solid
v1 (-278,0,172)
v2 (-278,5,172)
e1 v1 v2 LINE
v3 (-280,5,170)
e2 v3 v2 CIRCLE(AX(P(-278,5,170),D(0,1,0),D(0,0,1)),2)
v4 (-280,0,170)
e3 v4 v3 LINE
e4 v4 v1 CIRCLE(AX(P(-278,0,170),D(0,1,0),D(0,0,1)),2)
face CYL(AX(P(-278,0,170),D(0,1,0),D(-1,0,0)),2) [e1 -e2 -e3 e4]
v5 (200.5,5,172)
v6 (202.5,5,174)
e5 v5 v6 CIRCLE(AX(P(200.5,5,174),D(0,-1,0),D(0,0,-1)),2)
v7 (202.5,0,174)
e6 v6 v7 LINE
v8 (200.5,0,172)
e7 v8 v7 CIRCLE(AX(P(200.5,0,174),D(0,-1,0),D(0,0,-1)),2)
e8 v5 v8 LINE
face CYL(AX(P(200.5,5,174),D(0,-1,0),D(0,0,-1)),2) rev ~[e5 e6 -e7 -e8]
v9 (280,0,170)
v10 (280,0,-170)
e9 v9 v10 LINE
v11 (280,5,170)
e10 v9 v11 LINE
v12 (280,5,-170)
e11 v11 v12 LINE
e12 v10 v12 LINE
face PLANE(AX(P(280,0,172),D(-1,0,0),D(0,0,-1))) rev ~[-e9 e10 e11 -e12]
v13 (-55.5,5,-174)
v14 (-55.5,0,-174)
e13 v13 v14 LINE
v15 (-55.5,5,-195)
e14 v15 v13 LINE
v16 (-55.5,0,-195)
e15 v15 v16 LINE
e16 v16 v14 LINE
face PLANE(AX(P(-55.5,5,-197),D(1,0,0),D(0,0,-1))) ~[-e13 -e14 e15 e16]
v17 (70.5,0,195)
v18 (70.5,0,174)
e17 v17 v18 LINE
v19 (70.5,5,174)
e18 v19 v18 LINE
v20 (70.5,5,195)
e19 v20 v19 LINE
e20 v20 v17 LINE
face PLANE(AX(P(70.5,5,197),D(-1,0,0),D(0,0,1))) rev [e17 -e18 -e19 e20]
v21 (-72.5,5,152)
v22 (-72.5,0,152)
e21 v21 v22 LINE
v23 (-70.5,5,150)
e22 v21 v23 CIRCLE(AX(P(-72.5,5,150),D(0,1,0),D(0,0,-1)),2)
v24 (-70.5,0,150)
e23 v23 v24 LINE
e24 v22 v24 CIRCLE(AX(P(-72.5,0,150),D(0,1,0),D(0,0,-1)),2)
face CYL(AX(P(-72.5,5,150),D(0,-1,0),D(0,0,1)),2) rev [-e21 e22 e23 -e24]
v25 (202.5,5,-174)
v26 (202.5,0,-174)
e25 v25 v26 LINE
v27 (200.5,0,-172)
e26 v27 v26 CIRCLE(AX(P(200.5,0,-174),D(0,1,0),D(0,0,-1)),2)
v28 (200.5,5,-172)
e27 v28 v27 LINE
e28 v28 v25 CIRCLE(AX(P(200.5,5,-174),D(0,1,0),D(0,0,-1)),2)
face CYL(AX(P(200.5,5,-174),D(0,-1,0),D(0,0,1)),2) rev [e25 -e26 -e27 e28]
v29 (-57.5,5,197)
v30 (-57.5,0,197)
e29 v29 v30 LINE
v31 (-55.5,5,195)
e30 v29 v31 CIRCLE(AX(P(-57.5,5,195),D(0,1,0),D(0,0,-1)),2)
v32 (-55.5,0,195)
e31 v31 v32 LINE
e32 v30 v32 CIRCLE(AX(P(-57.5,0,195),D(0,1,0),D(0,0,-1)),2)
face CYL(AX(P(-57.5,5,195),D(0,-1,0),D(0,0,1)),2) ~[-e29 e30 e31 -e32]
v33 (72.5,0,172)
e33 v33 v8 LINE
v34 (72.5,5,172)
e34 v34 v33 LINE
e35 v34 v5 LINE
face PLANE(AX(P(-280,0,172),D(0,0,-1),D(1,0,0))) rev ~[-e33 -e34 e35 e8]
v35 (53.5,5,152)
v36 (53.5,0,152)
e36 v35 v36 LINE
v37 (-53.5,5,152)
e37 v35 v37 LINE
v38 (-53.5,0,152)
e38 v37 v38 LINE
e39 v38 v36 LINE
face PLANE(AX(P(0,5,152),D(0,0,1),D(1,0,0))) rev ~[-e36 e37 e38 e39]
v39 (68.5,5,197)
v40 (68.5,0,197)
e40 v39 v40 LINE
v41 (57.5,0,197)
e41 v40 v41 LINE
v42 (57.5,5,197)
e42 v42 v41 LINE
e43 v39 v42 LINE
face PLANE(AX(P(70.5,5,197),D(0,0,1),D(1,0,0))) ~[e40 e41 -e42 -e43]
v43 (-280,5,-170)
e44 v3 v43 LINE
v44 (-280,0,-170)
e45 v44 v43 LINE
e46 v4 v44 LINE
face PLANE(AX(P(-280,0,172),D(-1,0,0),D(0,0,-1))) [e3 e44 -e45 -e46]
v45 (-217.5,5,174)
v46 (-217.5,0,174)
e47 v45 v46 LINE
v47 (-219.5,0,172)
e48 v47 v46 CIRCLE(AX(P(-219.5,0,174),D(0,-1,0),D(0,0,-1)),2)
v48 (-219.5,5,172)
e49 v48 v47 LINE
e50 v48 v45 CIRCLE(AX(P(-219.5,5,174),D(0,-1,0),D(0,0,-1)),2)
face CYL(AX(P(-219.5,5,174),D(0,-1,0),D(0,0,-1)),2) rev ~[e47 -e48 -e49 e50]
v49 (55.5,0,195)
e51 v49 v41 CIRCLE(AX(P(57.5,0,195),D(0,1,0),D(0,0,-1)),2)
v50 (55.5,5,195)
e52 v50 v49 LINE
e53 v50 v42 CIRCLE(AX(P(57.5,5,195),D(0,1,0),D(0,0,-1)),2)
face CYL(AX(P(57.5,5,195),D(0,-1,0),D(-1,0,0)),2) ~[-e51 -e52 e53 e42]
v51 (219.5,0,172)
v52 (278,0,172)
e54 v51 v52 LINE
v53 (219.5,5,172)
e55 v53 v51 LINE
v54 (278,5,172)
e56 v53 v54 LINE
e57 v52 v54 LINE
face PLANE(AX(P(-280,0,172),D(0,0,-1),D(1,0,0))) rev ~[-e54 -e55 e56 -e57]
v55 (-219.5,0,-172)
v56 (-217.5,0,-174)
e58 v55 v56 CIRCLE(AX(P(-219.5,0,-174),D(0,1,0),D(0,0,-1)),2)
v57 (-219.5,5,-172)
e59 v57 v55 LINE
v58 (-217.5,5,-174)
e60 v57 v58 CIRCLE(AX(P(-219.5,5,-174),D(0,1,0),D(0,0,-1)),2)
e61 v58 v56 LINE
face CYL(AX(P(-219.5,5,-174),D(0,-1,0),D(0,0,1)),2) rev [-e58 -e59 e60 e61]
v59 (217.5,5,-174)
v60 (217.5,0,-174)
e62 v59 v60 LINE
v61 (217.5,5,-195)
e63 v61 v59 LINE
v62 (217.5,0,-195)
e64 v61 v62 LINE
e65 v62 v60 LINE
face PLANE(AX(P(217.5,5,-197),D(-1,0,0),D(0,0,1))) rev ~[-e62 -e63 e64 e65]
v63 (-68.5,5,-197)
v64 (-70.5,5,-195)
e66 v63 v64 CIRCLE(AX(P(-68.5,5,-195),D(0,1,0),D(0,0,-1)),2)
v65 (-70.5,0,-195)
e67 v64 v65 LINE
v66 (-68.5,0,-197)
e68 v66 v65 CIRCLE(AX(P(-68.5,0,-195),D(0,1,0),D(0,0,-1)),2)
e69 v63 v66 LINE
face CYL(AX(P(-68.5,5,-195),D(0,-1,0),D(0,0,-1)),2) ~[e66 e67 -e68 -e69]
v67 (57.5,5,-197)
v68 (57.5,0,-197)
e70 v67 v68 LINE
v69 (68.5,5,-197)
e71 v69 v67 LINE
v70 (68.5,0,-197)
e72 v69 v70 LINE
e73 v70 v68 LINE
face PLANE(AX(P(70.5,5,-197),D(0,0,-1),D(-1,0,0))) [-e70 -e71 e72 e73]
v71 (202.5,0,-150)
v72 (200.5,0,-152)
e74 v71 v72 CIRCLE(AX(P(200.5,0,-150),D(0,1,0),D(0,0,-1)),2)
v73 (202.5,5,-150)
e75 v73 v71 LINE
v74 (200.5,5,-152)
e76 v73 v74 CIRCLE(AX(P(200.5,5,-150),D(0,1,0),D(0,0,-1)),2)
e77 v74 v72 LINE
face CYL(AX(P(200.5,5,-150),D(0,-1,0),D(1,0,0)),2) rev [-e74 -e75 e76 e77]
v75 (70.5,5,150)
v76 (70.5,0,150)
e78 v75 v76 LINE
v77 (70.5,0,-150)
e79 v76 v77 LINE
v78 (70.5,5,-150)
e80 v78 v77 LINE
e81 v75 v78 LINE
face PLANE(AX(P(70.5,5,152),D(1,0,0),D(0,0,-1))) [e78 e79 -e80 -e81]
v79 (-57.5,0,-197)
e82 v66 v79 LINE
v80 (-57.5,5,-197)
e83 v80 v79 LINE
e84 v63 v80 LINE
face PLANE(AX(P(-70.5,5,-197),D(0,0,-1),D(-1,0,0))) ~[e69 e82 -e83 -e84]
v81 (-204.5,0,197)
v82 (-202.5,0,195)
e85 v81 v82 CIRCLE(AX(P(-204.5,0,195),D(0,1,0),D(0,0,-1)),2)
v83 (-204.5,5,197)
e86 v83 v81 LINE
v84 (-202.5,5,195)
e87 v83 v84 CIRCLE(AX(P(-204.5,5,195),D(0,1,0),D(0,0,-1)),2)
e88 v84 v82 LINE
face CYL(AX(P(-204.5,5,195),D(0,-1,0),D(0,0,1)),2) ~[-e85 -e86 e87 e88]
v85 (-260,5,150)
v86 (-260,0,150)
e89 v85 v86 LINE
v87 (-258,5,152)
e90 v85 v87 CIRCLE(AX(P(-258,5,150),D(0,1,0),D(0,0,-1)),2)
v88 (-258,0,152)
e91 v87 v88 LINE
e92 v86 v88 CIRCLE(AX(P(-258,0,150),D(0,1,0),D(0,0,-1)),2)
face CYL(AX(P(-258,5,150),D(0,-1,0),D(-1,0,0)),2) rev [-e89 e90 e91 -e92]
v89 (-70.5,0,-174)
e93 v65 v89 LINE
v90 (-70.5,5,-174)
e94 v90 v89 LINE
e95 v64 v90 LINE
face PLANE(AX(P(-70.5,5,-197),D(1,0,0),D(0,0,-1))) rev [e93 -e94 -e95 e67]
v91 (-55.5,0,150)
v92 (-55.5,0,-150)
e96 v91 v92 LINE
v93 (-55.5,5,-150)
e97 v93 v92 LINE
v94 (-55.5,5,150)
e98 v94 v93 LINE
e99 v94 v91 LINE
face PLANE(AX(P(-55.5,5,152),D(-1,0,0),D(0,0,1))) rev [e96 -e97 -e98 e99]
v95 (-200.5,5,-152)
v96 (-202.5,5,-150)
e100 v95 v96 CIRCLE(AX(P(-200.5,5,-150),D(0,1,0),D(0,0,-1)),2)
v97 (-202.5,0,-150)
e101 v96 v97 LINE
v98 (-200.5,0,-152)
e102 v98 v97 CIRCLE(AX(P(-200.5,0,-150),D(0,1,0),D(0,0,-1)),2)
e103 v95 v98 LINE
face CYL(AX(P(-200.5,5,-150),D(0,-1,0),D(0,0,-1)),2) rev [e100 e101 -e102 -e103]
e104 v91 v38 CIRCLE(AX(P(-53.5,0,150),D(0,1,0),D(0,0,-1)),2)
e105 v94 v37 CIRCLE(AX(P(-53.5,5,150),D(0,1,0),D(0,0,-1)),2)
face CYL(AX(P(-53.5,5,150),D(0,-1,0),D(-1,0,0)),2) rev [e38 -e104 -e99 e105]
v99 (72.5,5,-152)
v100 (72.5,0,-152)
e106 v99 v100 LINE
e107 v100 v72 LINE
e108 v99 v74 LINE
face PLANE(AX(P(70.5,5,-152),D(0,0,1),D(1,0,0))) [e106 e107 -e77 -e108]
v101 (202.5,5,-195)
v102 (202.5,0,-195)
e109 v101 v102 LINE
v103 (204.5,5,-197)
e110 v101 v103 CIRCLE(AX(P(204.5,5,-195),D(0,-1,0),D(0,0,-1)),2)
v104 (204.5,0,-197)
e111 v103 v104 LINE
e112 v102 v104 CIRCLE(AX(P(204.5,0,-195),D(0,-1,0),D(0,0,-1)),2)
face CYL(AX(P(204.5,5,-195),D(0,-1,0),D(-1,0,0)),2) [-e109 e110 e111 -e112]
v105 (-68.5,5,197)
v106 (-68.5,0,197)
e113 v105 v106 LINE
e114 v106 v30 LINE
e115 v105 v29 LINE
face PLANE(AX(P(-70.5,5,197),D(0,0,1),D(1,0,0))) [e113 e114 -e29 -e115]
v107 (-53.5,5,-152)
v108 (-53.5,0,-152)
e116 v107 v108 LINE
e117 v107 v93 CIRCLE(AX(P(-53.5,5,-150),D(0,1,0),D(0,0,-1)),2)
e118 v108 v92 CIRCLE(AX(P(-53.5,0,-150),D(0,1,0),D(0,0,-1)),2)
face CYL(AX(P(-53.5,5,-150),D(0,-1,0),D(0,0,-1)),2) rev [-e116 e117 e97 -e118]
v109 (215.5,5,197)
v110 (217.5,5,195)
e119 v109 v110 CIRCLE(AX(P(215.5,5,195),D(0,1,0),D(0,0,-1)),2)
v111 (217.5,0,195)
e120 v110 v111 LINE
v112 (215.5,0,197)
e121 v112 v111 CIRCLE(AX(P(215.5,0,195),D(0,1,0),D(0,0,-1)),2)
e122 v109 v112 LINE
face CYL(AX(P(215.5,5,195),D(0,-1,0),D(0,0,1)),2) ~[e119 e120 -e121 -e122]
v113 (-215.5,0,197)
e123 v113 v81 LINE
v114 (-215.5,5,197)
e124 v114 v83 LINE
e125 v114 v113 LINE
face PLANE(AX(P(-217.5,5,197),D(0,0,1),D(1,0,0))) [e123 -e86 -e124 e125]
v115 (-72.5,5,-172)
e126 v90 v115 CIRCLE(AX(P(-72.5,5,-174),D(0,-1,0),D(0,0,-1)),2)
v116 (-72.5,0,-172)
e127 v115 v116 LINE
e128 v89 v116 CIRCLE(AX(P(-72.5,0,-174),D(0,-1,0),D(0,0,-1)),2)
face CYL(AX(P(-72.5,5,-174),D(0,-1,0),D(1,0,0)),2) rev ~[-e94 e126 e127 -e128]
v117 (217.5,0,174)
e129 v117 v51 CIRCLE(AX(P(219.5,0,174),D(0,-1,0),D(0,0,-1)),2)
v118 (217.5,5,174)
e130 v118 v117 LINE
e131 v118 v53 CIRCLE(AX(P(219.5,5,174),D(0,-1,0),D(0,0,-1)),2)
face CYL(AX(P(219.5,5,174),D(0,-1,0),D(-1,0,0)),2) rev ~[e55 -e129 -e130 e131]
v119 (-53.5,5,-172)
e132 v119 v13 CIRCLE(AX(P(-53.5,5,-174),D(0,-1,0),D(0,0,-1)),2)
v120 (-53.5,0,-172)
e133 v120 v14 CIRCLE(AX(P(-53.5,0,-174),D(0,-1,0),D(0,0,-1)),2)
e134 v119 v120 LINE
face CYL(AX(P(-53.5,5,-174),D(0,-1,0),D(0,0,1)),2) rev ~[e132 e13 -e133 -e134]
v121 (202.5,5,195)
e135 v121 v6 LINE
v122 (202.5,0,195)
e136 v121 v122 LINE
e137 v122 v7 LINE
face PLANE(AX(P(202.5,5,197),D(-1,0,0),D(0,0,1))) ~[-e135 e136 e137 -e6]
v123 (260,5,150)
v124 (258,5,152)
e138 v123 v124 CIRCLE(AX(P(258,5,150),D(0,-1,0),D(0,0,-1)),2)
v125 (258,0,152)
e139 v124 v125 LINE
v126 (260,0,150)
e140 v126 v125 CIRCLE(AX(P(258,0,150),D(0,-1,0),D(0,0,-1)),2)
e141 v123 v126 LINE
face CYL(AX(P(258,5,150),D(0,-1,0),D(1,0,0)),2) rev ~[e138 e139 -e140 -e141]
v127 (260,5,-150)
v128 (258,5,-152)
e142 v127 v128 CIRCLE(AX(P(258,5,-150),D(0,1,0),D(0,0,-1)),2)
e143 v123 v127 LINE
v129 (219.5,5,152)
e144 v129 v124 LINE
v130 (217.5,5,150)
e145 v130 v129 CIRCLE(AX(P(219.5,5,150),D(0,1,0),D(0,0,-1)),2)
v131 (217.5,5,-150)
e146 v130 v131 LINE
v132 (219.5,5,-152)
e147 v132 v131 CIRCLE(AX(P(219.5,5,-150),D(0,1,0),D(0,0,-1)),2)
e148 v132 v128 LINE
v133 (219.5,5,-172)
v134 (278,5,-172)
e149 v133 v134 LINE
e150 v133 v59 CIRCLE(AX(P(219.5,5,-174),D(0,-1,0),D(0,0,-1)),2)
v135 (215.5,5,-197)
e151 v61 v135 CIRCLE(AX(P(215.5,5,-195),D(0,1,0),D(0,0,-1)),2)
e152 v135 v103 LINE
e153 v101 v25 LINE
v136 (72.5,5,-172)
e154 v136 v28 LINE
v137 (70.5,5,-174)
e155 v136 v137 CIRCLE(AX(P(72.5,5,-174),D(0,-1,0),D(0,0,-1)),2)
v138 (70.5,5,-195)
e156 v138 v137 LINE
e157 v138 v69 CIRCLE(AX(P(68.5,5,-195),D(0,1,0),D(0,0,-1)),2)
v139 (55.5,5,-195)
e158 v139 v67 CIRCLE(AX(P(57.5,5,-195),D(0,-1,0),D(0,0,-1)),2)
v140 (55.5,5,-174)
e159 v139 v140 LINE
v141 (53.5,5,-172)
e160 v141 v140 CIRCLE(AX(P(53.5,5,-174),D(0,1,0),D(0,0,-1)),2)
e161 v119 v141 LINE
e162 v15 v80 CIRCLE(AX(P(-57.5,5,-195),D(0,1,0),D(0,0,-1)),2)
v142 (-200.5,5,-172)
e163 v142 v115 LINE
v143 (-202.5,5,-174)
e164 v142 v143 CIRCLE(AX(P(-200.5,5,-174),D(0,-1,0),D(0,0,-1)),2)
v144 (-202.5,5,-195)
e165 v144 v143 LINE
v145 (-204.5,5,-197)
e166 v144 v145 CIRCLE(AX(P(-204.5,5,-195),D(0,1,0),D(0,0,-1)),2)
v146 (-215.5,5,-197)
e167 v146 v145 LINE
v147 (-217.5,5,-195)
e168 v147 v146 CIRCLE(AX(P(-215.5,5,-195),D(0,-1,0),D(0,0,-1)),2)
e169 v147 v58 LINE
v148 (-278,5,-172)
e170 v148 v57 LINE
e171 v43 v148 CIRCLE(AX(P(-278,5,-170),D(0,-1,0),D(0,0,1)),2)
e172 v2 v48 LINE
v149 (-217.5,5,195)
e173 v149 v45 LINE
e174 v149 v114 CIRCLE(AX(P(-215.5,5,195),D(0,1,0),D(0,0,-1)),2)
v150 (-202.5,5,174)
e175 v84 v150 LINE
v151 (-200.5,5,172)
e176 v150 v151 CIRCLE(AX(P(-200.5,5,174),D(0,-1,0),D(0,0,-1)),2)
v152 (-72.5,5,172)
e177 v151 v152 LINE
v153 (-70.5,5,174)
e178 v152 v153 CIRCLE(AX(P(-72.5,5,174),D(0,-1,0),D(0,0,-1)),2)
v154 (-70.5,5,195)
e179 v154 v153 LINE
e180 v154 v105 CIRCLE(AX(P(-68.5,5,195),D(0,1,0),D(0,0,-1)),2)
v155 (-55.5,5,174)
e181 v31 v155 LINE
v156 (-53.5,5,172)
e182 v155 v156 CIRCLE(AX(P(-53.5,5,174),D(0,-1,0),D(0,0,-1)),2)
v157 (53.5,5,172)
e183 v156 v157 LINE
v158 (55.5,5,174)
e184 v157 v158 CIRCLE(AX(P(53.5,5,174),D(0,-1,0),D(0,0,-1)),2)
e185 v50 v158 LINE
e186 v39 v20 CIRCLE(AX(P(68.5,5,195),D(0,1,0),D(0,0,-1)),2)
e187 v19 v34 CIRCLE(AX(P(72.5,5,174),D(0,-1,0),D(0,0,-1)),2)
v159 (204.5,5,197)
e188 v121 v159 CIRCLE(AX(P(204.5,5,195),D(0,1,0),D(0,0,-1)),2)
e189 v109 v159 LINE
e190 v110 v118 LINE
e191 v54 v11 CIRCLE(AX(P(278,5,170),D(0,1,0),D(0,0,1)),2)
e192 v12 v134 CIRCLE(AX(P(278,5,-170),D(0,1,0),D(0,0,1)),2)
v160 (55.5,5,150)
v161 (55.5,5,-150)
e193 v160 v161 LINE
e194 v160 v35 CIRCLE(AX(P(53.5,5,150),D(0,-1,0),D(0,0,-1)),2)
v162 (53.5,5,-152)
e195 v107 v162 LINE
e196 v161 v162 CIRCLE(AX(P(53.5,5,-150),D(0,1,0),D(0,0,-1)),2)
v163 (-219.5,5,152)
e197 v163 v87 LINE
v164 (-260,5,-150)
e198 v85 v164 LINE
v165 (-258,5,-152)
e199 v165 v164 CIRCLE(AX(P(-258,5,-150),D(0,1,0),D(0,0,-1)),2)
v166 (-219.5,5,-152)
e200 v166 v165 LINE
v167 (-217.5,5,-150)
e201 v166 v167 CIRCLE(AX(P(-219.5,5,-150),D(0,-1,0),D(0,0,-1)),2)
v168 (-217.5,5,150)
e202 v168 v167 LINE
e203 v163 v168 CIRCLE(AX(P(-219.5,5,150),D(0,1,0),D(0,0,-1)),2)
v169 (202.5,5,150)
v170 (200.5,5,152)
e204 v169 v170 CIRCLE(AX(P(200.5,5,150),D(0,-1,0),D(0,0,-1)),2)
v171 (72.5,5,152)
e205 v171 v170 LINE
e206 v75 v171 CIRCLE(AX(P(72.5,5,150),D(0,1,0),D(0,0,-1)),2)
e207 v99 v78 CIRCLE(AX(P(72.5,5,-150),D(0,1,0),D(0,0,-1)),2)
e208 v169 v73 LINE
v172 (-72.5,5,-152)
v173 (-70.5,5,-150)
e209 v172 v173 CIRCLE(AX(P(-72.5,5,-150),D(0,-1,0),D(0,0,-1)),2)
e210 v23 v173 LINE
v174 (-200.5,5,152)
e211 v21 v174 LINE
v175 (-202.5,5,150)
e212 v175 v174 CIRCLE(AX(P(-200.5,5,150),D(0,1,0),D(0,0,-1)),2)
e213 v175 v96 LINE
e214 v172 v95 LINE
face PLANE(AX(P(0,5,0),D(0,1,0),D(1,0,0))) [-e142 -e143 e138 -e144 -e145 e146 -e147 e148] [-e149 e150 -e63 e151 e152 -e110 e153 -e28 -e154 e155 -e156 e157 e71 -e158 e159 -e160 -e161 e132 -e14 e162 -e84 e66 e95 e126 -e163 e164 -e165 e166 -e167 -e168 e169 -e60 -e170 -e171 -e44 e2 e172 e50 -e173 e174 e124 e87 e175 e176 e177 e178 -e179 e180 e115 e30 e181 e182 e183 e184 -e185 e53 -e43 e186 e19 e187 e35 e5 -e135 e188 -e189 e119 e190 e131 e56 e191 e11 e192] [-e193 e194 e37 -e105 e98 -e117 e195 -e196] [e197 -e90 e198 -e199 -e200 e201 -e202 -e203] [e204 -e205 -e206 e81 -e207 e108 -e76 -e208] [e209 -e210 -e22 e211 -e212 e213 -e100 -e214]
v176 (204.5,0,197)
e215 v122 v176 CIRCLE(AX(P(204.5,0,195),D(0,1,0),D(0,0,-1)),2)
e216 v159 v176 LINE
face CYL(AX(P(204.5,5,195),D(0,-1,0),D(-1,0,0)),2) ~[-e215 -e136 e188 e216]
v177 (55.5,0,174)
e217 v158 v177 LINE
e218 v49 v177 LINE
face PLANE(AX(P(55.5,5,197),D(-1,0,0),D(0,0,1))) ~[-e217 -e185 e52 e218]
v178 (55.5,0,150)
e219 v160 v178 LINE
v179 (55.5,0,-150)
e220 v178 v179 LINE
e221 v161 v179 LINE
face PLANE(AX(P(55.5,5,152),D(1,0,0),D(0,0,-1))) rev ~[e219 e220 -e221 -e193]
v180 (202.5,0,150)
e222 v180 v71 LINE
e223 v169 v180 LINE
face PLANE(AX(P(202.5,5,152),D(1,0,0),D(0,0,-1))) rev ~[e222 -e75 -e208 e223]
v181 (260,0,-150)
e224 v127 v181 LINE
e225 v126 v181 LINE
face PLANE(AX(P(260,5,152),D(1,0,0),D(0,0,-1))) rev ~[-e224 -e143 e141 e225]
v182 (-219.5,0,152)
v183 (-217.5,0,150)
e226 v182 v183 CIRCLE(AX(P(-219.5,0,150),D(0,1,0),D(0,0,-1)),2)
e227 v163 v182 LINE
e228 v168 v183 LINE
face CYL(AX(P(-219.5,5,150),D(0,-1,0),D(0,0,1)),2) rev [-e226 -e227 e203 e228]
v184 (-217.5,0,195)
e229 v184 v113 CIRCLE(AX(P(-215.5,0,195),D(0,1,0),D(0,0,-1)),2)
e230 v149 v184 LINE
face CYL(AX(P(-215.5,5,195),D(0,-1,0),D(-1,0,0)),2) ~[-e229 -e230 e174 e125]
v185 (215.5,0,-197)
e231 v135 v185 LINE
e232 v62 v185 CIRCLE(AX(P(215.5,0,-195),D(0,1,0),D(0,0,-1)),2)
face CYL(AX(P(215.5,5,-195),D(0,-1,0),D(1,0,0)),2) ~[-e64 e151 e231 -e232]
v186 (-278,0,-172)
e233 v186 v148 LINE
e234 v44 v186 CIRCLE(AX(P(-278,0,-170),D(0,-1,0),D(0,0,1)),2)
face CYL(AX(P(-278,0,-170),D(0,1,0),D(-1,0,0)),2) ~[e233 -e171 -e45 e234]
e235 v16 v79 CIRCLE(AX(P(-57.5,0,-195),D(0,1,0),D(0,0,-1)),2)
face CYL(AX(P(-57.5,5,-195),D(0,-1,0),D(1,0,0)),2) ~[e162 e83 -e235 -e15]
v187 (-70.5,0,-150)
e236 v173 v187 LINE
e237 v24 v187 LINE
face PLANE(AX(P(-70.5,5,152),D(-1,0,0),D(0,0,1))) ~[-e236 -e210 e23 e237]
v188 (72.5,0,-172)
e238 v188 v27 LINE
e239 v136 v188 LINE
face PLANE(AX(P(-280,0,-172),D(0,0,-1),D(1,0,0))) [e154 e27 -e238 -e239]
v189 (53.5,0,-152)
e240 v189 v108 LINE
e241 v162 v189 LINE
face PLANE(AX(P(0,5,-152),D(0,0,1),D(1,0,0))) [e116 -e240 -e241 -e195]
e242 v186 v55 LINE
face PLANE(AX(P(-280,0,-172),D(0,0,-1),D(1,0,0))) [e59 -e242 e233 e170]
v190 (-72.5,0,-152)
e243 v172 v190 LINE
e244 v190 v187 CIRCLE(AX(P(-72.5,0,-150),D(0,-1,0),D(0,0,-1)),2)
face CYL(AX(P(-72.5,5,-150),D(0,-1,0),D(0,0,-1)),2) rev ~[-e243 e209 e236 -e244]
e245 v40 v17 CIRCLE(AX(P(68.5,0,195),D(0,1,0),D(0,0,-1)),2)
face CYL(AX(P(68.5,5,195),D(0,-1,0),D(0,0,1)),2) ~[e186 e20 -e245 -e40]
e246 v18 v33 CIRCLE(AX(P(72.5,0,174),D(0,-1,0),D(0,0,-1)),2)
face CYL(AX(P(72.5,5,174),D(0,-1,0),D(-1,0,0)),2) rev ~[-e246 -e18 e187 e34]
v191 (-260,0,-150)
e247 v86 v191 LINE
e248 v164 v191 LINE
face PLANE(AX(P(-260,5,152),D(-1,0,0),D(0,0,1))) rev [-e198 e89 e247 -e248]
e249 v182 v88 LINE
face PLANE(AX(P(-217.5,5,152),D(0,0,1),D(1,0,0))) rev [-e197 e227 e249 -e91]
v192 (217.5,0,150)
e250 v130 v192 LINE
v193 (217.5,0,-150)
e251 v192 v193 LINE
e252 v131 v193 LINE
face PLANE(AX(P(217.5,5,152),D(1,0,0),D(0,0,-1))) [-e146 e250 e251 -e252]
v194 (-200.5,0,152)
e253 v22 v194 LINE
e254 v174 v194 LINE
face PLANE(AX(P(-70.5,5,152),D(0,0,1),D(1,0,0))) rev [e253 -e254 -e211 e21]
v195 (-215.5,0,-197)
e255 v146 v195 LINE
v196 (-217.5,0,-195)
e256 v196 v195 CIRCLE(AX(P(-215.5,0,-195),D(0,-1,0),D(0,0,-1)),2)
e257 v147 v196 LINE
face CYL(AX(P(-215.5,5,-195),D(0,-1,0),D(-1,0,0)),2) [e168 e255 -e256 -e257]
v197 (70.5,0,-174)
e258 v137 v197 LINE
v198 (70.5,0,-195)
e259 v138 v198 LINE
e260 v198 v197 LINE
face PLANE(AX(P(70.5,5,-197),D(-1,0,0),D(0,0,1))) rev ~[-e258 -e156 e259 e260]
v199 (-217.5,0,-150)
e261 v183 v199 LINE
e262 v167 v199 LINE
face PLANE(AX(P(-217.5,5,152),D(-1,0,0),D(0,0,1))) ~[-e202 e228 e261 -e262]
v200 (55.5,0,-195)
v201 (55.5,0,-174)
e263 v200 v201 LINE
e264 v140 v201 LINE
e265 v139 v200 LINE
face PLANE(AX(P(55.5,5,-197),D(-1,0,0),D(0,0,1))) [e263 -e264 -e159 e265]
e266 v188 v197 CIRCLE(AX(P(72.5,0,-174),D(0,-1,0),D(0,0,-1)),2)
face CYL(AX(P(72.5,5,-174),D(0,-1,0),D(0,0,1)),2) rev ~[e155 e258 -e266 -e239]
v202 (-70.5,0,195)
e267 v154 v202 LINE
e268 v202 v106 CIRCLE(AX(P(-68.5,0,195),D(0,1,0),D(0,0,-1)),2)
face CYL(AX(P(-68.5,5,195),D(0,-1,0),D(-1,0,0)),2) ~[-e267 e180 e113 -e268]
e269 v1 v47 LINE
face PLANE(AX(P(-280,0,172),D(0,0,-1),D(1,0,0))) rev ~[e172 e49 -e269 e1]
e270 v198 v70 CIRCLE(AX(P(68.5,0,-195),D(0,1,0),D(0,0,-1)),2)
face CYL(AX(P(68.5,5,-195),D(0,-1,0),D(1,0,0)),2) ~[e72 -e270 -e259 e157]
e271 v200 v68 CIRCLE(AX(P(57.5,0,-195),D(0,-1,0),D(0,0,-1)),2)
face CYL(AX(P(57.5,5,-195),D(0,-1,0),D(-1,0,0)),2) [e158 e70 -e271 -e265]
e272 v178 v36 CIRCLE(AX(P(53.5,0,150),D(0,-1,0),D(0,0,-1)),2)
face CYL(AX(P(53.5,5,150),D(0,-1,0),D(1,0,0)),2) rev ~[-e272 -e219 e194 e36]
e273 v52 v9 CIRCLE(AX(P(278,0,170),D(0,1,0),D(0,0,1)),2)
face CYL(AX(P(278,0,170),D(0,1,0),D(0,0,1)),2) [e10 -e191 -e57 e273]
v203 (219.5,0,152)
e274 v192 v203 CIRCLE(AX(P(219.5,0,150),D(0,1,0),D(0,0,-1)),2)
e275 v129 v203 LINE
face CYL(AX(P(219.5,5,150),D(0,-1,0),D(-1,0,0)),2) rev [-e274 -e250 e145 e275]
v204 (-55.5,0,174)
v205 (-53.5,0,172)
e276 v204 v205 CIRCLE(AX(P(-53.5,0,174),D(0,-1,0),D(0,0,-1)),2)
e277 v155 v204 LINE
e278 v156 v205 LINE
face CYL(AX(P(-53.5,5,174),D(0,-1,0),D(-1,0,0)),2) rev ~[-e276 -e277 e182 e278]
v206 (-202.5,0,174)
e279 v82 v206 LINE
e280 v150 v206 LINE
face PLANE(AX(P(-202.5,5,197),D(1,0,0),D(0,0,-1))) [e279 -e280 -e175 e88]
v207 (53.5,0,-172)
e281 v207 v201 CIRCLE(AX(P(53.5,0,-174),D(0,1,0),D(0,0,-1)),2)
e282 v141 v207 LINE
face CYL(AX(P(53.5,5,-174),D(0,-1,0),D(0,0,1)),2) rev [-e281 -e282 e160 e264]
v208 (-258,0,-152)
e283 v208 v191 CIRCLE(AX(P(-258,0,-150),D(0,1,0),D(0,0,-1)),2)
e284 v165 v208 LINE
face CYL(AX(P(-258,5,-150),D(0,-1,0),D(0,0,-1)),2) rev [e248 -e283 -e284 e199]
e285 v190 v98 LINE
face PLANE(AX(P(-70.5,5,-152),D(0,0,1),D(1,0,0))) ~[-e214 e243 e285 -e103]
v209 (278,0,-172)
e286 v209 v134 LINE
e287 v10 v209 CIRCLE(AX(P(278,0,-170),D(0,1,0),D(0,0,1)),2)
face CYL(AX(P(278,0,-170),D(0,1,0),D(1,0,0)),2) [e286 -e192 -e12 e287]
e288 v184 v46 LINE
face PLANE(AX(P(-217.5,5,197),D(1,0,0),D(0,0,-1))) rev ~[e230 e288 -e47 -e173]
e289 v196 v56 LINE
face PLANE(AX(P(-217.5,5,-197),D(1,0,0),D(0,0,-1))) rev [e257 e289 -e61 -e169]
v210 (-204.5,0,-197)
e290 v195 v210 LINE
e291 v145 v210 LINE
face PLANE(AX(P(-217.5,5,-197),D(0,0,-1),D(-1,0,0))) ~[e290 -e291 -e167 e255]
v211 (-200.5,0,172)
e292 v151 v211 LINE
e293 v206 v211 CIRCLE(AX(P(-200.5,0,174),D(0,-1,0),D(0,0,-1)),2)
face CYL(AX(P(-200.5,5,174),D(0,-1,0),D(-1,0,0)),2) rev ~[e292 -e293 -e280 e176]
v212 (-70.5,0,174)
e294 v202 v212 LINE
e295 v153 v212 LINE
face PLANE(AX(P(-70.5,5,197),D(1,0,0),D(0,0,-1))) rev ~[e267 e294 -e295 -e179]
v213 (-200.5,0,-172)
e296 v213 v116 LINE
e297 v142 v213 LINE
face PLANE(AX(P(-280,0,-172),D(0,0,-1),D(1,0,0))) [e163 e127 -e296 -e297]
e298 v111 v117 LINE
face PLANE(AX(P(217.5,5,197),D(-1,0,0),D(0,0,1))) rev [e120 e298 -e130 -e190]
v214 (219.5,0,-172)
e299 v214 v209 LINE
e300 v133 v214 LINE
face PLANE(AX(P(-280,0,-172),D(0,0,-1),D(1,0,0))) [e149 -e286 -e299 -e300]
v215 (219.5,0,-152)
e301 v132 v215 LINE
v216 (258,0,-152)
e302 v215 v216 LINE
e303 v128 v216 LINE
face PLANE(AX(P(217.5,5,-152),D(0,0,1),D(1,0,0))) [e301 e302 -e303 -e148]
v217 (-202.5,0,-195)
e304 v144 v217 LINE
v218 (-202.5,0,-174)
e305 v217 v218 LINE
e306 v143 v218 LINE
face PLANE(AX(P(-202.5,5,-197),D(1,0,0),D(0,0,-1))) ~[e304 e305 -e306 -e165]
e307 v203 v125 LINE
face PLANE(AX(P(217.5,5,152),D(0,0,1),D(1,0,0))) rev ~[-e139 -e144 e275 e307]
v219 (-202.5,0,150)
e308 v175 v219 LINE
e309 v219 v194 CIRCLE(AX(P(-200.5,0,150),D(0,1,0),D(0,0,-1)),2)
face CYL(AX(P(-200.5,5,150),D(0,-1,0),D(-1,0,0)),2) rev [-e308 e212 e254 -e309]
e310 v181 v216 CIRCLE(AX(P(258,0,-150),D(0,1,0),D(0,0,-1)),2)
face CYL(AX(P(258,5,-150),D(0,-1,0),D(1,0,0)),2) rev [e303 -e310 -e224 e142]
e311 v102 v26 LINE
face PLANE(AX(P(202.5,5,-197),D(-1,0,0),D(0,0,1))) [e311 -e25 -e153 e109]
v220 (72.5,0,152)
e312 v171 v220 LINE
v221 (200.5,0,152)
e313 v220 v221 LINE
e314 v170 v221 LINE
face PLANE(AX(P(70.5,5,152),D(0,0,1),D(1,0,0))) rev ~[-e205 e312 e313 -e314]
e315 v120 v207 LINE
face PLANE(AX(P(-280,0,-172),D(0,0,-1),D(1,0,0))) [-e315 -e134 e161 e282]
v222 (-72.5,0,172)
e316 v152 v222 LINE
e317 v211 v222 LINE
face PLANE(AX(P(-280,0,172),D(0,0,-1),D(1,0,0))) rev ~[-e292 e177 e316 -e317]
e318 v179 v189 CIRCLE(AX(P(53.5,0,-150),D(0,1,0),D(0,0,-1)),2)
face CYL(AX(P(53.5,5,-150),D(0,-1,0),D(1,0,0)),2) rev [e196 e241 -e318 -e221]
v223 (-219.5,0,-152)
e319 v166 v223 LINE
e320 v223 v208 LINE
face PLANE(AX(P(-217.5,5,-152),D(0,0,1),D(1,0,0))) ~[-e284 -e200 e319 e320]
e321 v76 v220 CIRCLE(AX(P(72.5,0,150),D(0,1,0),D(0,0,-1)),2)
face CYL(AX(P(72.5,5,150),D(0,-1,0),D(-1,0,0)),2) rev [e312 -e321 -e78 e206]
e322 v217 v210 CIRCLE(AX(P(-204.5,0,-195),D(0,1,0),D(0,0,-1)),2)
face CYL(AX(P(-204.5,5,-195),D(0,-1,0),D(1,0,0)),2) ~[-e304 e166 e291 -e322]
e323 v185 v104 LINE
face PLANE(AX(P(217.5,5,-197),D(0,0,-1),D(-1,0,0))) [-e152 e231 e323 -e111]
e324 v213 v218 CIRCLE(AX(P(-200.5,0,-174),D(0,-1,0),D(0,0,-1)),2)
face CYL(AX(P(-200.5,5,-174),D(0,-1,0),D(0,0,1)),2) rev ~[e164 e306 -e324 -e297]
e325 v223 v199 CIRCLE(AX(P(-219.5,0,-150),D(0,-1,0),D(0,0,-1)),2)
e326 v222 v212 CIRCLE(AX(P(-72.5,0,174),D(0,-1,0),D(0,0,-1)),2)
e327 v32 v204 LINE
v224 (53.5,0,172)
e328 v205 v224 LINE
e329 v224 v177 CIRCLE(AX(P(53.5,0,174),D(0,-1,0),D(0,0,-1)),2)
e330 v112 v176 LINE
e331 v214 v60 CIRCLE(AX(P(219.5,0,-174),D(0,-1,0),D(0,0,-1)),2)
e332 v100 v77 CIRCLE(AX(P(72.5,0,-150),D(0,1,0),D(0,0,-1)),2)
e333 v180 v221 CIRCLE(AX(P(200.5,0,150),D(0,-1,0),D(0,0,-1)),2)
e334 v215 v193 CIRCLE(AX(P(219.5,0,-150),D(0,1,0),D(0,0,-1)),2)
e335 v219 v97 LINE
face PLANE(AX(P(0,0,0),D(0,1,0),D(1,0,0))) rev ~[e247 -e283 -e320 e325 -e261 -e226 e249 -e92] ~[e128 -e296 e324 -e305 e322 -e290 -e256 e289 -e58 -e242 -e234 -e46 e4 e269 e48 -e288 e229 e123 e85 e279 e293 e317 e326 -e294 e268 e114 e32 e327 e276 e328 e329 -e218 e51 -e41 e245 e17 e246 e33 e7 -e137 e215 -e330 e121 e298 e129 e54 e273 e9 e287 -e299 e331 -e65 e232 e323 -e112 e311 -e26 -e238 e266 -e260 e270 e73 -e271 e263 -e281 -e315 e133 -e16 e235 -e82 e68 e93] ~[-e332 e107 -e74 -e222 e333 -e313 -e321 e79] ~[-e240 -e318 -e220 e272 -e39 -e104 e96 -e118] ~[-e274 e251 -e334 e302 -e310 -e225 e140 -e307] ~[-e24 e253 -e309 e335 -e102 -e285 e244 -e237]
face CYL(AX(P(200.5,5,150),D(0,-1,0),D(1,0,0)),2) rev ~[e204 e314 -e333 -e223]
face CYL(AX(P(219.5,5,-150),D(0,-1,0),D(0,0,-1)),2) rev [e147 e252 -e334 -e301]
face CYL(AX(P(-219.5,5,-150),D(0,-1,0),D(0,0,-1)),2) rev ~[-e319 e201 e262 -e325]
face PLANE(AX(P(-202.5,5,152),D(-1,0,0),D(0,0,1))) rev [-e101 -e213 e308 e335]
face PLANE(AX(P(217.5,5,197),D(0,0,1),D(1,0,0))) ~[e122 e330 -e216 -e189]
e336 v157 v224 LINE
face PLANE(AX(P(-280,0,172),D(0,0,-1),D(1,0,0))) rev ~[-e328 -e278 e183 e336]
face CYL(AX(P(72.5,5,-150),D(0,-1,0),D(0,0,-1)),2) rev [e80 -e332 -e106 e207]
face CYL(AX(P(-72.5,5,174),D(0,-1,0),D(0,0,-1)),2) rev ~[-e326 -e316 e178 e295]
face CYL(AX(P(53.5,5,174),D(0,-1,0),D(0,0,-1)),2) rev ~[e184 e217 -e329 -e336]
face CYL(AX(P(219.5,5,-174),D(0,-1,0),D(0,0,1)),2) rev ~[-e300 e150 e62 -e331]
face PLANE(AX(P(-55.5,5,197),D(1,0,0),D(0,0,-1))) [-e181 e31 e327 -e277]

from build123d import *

# Parameters (mm, degrees)
SKETCH1_W               = 560
SKETCH1_H               = 344
BOSS_EXTRUDE1_DEPTH     = 5
SKETCH2_W               = 15
SKETCH2_H               = 25
BOSS_EXTRUDE2_DEPTH     = 5
MIRROR5_COPY_1_SKETCH_W = 15
MIRROR5_COPY_1_SKETCH_H = 25
MIRROR5_COPY_1_DEPTH    = 5
FILLET3_R               = 2
SKETCH3_W               = 42.5
SKETCH3_H               = 304
SKETCH3_W_2             = 132
SKETCH3_W_3             = 55.5
CUT_EXTRUDE1_DEPTH      = 343.394509302
FILLET4_R               = 2


with BuildPart() as part:
    # Sketch1 → Boss-Extrude1 (new body)
    with BuildSketch(Plane(origin=(0, 0, 0), x_dir=(1, 0, 0), z_dir=(0, 1, 0))):
        Rectangle(SKETCH1_W, SKETCH1_H)
    extrude(amount=BOSS_EXTRUDE1_DEPTH)

    # Sketch2 → Boss-Extrude2 (add)
    with BuildSketch(Plane(origin=(0, 5, 0), x_dir=(1, 0, 0), z_dir=(0, 1, 0))):
        with Locations((-63, -184.5)):
            Rectangle(SKETCH2_W, SKETCH2_H)
        with Locations((-210, -184.5)):
            Rectangle(SKETCH2_W, SKETCH2_H)
    boss_extrude2 = extrude(amount=-BOSS_EXTRUDE2_DEPTH)

    # Mirror4: Boss-Extrude2 across plane
    add(boss_extrude2.mirror(Plane(origin=(0, 0, 0), x_dir=(0, 0, 1), z_dir=(1, 0, 0))))

    # Mirror5: Boss-Extrude2 across plane
    add(boss_extrude2.mirror(Plane.XY))

    # Mirror5 copy 1 sketch → Mirror5 copy 1 (add)
    with BuildSketch(Plane(origin=(0, 5, 0), x_dir=(-1, 0, 0), z_dir=(0, 1, 0))):
        with Locations((-63, -184.5)):
            Rectangle(MIRROR5_COPY_1_SKETCH_W, MIRROR5_COPY_1_SKETCH_H)
        with Locations((-210, -184.5)):
            Rectangle(MIRROR5_COPY_1_SKETCH_W, MIRROR5_COPY_1_SKETCH_H)
    extrude(amount=-MIRROR5_COPY_1_DEPTH)

    # Fillet3
    fillet3_edges = [part.edges().sort_by_distance(p)[0] for p in [
        (-70.5, 2.5, 197),
        (-70.5, 2.5, 172),
        (-55.5, 2.5, 172),
        (-55.5, 2.5, 197),
        (-202.5, 2.5, 172),
        (-202.5, 2.5, 197),
        (-217.5, 2.5, 197),
        (-217.5, 2.5, 172),
        (55.5, 2.5, 172),
        (55.5, 2.5, 197),
        (70.5, 2.5, 197),
        (70.5, 2.5, 172),
        (217.5, 2.5, 197),
        (217.5, 2.5, 172),
        (202.5, 2.5, 172),
        (202.5, 2.5, 197),
        (70.5, 2.5, -197),
        (70.5, 2.5, -172),
        (55.5, 2.5, -172),
        (55.5, 2.5, -197),
        (202.5, 2.5, -172),
        (202.5, 2.5, -197),
        (217.5, 2.5, -197),
        (217.5, 2.5, -172),
        (-280, 2.5, -172),
        (280, 2.5, -172),
        (280, 2.5, 172),
        (-280, 2.5, 172),
        (-55.5, 2.5, -172),
        (-55.5, 2.5, -197),
        (-70.5, 2.5, -197),
        (-70.5, 2.5, -172),
        (-217.5, 2.5, -197),
        (-217.5, 2.5, -172),
        (-202.5, 2.5, -172),
        (-202.5, 2.5, -197),
    ]]
    fillet(fillet3_edges, radius=FILLET3_R)

    # Sketch3 → Cut-Extrude1 (cut, through all)
    with BuildSketch(Plane(origin=(0, 5, 0), x_dir=(1, 0, 0), z_dir=(0, 1, 0))):
        with Locations((238.75, 0)):
            Rectangle(SKETCH3_W, SKETCH3_H)
        with Locations((136.5, 0)):
            Rectangle(SKETCH3_W_2, SKETCH3_H)
        with Locations((27.75, 0)):
            Rectangle(SKETCH3_W_3, SKETCH3_H)
    cut_extrude1 = extrude(amount=-CUT_EXTRUDE1_DEPTH, mode=Mode.SUBTRACT)

    # Mirror6: Cut-Extrude1 across plane
    add(cut_extrude1.mirror(Plane(origin=(0, 0, 0), x_dir=(0, 0, 1), z_dir=(1, 0, 0))), mode=Mode.SUBTRACT)

    # Fillet4
    fillet4_edges = [part.edges().sort_by_distance(p)[0] for p in [
        (217.5, 2.5, 152),
        (217.5, 2.5, -152),
        (260, 2.5, -152),
        (260, 2.5, 152),
        (202.5, 2.5, -152),
        (202.5, 2.5, 152),
        (70.5, 2.5, 152),
        (70.5, 2.5, -152),
        (55.5, 2.5, -152),
        (55.5, 2.5, 152),
        (-217.5, 2.5, -152),
        (-217.5, 2.5, 152),
        (-260, 2.5, 152),
        (-260, 2.5, -152),
        (-202.5, 2.5, 152),
        (-202.5, 2.5, -152),
        (-70.5, 2.5, -152),
        (-70.5, 2.5, 152),
        (-55.5, 2.5, 152),
        (-55.5, 2.5, -152),
    ]]
    fillet(fillet4_edges, radius=FILLET4_R)


solid = part.part
